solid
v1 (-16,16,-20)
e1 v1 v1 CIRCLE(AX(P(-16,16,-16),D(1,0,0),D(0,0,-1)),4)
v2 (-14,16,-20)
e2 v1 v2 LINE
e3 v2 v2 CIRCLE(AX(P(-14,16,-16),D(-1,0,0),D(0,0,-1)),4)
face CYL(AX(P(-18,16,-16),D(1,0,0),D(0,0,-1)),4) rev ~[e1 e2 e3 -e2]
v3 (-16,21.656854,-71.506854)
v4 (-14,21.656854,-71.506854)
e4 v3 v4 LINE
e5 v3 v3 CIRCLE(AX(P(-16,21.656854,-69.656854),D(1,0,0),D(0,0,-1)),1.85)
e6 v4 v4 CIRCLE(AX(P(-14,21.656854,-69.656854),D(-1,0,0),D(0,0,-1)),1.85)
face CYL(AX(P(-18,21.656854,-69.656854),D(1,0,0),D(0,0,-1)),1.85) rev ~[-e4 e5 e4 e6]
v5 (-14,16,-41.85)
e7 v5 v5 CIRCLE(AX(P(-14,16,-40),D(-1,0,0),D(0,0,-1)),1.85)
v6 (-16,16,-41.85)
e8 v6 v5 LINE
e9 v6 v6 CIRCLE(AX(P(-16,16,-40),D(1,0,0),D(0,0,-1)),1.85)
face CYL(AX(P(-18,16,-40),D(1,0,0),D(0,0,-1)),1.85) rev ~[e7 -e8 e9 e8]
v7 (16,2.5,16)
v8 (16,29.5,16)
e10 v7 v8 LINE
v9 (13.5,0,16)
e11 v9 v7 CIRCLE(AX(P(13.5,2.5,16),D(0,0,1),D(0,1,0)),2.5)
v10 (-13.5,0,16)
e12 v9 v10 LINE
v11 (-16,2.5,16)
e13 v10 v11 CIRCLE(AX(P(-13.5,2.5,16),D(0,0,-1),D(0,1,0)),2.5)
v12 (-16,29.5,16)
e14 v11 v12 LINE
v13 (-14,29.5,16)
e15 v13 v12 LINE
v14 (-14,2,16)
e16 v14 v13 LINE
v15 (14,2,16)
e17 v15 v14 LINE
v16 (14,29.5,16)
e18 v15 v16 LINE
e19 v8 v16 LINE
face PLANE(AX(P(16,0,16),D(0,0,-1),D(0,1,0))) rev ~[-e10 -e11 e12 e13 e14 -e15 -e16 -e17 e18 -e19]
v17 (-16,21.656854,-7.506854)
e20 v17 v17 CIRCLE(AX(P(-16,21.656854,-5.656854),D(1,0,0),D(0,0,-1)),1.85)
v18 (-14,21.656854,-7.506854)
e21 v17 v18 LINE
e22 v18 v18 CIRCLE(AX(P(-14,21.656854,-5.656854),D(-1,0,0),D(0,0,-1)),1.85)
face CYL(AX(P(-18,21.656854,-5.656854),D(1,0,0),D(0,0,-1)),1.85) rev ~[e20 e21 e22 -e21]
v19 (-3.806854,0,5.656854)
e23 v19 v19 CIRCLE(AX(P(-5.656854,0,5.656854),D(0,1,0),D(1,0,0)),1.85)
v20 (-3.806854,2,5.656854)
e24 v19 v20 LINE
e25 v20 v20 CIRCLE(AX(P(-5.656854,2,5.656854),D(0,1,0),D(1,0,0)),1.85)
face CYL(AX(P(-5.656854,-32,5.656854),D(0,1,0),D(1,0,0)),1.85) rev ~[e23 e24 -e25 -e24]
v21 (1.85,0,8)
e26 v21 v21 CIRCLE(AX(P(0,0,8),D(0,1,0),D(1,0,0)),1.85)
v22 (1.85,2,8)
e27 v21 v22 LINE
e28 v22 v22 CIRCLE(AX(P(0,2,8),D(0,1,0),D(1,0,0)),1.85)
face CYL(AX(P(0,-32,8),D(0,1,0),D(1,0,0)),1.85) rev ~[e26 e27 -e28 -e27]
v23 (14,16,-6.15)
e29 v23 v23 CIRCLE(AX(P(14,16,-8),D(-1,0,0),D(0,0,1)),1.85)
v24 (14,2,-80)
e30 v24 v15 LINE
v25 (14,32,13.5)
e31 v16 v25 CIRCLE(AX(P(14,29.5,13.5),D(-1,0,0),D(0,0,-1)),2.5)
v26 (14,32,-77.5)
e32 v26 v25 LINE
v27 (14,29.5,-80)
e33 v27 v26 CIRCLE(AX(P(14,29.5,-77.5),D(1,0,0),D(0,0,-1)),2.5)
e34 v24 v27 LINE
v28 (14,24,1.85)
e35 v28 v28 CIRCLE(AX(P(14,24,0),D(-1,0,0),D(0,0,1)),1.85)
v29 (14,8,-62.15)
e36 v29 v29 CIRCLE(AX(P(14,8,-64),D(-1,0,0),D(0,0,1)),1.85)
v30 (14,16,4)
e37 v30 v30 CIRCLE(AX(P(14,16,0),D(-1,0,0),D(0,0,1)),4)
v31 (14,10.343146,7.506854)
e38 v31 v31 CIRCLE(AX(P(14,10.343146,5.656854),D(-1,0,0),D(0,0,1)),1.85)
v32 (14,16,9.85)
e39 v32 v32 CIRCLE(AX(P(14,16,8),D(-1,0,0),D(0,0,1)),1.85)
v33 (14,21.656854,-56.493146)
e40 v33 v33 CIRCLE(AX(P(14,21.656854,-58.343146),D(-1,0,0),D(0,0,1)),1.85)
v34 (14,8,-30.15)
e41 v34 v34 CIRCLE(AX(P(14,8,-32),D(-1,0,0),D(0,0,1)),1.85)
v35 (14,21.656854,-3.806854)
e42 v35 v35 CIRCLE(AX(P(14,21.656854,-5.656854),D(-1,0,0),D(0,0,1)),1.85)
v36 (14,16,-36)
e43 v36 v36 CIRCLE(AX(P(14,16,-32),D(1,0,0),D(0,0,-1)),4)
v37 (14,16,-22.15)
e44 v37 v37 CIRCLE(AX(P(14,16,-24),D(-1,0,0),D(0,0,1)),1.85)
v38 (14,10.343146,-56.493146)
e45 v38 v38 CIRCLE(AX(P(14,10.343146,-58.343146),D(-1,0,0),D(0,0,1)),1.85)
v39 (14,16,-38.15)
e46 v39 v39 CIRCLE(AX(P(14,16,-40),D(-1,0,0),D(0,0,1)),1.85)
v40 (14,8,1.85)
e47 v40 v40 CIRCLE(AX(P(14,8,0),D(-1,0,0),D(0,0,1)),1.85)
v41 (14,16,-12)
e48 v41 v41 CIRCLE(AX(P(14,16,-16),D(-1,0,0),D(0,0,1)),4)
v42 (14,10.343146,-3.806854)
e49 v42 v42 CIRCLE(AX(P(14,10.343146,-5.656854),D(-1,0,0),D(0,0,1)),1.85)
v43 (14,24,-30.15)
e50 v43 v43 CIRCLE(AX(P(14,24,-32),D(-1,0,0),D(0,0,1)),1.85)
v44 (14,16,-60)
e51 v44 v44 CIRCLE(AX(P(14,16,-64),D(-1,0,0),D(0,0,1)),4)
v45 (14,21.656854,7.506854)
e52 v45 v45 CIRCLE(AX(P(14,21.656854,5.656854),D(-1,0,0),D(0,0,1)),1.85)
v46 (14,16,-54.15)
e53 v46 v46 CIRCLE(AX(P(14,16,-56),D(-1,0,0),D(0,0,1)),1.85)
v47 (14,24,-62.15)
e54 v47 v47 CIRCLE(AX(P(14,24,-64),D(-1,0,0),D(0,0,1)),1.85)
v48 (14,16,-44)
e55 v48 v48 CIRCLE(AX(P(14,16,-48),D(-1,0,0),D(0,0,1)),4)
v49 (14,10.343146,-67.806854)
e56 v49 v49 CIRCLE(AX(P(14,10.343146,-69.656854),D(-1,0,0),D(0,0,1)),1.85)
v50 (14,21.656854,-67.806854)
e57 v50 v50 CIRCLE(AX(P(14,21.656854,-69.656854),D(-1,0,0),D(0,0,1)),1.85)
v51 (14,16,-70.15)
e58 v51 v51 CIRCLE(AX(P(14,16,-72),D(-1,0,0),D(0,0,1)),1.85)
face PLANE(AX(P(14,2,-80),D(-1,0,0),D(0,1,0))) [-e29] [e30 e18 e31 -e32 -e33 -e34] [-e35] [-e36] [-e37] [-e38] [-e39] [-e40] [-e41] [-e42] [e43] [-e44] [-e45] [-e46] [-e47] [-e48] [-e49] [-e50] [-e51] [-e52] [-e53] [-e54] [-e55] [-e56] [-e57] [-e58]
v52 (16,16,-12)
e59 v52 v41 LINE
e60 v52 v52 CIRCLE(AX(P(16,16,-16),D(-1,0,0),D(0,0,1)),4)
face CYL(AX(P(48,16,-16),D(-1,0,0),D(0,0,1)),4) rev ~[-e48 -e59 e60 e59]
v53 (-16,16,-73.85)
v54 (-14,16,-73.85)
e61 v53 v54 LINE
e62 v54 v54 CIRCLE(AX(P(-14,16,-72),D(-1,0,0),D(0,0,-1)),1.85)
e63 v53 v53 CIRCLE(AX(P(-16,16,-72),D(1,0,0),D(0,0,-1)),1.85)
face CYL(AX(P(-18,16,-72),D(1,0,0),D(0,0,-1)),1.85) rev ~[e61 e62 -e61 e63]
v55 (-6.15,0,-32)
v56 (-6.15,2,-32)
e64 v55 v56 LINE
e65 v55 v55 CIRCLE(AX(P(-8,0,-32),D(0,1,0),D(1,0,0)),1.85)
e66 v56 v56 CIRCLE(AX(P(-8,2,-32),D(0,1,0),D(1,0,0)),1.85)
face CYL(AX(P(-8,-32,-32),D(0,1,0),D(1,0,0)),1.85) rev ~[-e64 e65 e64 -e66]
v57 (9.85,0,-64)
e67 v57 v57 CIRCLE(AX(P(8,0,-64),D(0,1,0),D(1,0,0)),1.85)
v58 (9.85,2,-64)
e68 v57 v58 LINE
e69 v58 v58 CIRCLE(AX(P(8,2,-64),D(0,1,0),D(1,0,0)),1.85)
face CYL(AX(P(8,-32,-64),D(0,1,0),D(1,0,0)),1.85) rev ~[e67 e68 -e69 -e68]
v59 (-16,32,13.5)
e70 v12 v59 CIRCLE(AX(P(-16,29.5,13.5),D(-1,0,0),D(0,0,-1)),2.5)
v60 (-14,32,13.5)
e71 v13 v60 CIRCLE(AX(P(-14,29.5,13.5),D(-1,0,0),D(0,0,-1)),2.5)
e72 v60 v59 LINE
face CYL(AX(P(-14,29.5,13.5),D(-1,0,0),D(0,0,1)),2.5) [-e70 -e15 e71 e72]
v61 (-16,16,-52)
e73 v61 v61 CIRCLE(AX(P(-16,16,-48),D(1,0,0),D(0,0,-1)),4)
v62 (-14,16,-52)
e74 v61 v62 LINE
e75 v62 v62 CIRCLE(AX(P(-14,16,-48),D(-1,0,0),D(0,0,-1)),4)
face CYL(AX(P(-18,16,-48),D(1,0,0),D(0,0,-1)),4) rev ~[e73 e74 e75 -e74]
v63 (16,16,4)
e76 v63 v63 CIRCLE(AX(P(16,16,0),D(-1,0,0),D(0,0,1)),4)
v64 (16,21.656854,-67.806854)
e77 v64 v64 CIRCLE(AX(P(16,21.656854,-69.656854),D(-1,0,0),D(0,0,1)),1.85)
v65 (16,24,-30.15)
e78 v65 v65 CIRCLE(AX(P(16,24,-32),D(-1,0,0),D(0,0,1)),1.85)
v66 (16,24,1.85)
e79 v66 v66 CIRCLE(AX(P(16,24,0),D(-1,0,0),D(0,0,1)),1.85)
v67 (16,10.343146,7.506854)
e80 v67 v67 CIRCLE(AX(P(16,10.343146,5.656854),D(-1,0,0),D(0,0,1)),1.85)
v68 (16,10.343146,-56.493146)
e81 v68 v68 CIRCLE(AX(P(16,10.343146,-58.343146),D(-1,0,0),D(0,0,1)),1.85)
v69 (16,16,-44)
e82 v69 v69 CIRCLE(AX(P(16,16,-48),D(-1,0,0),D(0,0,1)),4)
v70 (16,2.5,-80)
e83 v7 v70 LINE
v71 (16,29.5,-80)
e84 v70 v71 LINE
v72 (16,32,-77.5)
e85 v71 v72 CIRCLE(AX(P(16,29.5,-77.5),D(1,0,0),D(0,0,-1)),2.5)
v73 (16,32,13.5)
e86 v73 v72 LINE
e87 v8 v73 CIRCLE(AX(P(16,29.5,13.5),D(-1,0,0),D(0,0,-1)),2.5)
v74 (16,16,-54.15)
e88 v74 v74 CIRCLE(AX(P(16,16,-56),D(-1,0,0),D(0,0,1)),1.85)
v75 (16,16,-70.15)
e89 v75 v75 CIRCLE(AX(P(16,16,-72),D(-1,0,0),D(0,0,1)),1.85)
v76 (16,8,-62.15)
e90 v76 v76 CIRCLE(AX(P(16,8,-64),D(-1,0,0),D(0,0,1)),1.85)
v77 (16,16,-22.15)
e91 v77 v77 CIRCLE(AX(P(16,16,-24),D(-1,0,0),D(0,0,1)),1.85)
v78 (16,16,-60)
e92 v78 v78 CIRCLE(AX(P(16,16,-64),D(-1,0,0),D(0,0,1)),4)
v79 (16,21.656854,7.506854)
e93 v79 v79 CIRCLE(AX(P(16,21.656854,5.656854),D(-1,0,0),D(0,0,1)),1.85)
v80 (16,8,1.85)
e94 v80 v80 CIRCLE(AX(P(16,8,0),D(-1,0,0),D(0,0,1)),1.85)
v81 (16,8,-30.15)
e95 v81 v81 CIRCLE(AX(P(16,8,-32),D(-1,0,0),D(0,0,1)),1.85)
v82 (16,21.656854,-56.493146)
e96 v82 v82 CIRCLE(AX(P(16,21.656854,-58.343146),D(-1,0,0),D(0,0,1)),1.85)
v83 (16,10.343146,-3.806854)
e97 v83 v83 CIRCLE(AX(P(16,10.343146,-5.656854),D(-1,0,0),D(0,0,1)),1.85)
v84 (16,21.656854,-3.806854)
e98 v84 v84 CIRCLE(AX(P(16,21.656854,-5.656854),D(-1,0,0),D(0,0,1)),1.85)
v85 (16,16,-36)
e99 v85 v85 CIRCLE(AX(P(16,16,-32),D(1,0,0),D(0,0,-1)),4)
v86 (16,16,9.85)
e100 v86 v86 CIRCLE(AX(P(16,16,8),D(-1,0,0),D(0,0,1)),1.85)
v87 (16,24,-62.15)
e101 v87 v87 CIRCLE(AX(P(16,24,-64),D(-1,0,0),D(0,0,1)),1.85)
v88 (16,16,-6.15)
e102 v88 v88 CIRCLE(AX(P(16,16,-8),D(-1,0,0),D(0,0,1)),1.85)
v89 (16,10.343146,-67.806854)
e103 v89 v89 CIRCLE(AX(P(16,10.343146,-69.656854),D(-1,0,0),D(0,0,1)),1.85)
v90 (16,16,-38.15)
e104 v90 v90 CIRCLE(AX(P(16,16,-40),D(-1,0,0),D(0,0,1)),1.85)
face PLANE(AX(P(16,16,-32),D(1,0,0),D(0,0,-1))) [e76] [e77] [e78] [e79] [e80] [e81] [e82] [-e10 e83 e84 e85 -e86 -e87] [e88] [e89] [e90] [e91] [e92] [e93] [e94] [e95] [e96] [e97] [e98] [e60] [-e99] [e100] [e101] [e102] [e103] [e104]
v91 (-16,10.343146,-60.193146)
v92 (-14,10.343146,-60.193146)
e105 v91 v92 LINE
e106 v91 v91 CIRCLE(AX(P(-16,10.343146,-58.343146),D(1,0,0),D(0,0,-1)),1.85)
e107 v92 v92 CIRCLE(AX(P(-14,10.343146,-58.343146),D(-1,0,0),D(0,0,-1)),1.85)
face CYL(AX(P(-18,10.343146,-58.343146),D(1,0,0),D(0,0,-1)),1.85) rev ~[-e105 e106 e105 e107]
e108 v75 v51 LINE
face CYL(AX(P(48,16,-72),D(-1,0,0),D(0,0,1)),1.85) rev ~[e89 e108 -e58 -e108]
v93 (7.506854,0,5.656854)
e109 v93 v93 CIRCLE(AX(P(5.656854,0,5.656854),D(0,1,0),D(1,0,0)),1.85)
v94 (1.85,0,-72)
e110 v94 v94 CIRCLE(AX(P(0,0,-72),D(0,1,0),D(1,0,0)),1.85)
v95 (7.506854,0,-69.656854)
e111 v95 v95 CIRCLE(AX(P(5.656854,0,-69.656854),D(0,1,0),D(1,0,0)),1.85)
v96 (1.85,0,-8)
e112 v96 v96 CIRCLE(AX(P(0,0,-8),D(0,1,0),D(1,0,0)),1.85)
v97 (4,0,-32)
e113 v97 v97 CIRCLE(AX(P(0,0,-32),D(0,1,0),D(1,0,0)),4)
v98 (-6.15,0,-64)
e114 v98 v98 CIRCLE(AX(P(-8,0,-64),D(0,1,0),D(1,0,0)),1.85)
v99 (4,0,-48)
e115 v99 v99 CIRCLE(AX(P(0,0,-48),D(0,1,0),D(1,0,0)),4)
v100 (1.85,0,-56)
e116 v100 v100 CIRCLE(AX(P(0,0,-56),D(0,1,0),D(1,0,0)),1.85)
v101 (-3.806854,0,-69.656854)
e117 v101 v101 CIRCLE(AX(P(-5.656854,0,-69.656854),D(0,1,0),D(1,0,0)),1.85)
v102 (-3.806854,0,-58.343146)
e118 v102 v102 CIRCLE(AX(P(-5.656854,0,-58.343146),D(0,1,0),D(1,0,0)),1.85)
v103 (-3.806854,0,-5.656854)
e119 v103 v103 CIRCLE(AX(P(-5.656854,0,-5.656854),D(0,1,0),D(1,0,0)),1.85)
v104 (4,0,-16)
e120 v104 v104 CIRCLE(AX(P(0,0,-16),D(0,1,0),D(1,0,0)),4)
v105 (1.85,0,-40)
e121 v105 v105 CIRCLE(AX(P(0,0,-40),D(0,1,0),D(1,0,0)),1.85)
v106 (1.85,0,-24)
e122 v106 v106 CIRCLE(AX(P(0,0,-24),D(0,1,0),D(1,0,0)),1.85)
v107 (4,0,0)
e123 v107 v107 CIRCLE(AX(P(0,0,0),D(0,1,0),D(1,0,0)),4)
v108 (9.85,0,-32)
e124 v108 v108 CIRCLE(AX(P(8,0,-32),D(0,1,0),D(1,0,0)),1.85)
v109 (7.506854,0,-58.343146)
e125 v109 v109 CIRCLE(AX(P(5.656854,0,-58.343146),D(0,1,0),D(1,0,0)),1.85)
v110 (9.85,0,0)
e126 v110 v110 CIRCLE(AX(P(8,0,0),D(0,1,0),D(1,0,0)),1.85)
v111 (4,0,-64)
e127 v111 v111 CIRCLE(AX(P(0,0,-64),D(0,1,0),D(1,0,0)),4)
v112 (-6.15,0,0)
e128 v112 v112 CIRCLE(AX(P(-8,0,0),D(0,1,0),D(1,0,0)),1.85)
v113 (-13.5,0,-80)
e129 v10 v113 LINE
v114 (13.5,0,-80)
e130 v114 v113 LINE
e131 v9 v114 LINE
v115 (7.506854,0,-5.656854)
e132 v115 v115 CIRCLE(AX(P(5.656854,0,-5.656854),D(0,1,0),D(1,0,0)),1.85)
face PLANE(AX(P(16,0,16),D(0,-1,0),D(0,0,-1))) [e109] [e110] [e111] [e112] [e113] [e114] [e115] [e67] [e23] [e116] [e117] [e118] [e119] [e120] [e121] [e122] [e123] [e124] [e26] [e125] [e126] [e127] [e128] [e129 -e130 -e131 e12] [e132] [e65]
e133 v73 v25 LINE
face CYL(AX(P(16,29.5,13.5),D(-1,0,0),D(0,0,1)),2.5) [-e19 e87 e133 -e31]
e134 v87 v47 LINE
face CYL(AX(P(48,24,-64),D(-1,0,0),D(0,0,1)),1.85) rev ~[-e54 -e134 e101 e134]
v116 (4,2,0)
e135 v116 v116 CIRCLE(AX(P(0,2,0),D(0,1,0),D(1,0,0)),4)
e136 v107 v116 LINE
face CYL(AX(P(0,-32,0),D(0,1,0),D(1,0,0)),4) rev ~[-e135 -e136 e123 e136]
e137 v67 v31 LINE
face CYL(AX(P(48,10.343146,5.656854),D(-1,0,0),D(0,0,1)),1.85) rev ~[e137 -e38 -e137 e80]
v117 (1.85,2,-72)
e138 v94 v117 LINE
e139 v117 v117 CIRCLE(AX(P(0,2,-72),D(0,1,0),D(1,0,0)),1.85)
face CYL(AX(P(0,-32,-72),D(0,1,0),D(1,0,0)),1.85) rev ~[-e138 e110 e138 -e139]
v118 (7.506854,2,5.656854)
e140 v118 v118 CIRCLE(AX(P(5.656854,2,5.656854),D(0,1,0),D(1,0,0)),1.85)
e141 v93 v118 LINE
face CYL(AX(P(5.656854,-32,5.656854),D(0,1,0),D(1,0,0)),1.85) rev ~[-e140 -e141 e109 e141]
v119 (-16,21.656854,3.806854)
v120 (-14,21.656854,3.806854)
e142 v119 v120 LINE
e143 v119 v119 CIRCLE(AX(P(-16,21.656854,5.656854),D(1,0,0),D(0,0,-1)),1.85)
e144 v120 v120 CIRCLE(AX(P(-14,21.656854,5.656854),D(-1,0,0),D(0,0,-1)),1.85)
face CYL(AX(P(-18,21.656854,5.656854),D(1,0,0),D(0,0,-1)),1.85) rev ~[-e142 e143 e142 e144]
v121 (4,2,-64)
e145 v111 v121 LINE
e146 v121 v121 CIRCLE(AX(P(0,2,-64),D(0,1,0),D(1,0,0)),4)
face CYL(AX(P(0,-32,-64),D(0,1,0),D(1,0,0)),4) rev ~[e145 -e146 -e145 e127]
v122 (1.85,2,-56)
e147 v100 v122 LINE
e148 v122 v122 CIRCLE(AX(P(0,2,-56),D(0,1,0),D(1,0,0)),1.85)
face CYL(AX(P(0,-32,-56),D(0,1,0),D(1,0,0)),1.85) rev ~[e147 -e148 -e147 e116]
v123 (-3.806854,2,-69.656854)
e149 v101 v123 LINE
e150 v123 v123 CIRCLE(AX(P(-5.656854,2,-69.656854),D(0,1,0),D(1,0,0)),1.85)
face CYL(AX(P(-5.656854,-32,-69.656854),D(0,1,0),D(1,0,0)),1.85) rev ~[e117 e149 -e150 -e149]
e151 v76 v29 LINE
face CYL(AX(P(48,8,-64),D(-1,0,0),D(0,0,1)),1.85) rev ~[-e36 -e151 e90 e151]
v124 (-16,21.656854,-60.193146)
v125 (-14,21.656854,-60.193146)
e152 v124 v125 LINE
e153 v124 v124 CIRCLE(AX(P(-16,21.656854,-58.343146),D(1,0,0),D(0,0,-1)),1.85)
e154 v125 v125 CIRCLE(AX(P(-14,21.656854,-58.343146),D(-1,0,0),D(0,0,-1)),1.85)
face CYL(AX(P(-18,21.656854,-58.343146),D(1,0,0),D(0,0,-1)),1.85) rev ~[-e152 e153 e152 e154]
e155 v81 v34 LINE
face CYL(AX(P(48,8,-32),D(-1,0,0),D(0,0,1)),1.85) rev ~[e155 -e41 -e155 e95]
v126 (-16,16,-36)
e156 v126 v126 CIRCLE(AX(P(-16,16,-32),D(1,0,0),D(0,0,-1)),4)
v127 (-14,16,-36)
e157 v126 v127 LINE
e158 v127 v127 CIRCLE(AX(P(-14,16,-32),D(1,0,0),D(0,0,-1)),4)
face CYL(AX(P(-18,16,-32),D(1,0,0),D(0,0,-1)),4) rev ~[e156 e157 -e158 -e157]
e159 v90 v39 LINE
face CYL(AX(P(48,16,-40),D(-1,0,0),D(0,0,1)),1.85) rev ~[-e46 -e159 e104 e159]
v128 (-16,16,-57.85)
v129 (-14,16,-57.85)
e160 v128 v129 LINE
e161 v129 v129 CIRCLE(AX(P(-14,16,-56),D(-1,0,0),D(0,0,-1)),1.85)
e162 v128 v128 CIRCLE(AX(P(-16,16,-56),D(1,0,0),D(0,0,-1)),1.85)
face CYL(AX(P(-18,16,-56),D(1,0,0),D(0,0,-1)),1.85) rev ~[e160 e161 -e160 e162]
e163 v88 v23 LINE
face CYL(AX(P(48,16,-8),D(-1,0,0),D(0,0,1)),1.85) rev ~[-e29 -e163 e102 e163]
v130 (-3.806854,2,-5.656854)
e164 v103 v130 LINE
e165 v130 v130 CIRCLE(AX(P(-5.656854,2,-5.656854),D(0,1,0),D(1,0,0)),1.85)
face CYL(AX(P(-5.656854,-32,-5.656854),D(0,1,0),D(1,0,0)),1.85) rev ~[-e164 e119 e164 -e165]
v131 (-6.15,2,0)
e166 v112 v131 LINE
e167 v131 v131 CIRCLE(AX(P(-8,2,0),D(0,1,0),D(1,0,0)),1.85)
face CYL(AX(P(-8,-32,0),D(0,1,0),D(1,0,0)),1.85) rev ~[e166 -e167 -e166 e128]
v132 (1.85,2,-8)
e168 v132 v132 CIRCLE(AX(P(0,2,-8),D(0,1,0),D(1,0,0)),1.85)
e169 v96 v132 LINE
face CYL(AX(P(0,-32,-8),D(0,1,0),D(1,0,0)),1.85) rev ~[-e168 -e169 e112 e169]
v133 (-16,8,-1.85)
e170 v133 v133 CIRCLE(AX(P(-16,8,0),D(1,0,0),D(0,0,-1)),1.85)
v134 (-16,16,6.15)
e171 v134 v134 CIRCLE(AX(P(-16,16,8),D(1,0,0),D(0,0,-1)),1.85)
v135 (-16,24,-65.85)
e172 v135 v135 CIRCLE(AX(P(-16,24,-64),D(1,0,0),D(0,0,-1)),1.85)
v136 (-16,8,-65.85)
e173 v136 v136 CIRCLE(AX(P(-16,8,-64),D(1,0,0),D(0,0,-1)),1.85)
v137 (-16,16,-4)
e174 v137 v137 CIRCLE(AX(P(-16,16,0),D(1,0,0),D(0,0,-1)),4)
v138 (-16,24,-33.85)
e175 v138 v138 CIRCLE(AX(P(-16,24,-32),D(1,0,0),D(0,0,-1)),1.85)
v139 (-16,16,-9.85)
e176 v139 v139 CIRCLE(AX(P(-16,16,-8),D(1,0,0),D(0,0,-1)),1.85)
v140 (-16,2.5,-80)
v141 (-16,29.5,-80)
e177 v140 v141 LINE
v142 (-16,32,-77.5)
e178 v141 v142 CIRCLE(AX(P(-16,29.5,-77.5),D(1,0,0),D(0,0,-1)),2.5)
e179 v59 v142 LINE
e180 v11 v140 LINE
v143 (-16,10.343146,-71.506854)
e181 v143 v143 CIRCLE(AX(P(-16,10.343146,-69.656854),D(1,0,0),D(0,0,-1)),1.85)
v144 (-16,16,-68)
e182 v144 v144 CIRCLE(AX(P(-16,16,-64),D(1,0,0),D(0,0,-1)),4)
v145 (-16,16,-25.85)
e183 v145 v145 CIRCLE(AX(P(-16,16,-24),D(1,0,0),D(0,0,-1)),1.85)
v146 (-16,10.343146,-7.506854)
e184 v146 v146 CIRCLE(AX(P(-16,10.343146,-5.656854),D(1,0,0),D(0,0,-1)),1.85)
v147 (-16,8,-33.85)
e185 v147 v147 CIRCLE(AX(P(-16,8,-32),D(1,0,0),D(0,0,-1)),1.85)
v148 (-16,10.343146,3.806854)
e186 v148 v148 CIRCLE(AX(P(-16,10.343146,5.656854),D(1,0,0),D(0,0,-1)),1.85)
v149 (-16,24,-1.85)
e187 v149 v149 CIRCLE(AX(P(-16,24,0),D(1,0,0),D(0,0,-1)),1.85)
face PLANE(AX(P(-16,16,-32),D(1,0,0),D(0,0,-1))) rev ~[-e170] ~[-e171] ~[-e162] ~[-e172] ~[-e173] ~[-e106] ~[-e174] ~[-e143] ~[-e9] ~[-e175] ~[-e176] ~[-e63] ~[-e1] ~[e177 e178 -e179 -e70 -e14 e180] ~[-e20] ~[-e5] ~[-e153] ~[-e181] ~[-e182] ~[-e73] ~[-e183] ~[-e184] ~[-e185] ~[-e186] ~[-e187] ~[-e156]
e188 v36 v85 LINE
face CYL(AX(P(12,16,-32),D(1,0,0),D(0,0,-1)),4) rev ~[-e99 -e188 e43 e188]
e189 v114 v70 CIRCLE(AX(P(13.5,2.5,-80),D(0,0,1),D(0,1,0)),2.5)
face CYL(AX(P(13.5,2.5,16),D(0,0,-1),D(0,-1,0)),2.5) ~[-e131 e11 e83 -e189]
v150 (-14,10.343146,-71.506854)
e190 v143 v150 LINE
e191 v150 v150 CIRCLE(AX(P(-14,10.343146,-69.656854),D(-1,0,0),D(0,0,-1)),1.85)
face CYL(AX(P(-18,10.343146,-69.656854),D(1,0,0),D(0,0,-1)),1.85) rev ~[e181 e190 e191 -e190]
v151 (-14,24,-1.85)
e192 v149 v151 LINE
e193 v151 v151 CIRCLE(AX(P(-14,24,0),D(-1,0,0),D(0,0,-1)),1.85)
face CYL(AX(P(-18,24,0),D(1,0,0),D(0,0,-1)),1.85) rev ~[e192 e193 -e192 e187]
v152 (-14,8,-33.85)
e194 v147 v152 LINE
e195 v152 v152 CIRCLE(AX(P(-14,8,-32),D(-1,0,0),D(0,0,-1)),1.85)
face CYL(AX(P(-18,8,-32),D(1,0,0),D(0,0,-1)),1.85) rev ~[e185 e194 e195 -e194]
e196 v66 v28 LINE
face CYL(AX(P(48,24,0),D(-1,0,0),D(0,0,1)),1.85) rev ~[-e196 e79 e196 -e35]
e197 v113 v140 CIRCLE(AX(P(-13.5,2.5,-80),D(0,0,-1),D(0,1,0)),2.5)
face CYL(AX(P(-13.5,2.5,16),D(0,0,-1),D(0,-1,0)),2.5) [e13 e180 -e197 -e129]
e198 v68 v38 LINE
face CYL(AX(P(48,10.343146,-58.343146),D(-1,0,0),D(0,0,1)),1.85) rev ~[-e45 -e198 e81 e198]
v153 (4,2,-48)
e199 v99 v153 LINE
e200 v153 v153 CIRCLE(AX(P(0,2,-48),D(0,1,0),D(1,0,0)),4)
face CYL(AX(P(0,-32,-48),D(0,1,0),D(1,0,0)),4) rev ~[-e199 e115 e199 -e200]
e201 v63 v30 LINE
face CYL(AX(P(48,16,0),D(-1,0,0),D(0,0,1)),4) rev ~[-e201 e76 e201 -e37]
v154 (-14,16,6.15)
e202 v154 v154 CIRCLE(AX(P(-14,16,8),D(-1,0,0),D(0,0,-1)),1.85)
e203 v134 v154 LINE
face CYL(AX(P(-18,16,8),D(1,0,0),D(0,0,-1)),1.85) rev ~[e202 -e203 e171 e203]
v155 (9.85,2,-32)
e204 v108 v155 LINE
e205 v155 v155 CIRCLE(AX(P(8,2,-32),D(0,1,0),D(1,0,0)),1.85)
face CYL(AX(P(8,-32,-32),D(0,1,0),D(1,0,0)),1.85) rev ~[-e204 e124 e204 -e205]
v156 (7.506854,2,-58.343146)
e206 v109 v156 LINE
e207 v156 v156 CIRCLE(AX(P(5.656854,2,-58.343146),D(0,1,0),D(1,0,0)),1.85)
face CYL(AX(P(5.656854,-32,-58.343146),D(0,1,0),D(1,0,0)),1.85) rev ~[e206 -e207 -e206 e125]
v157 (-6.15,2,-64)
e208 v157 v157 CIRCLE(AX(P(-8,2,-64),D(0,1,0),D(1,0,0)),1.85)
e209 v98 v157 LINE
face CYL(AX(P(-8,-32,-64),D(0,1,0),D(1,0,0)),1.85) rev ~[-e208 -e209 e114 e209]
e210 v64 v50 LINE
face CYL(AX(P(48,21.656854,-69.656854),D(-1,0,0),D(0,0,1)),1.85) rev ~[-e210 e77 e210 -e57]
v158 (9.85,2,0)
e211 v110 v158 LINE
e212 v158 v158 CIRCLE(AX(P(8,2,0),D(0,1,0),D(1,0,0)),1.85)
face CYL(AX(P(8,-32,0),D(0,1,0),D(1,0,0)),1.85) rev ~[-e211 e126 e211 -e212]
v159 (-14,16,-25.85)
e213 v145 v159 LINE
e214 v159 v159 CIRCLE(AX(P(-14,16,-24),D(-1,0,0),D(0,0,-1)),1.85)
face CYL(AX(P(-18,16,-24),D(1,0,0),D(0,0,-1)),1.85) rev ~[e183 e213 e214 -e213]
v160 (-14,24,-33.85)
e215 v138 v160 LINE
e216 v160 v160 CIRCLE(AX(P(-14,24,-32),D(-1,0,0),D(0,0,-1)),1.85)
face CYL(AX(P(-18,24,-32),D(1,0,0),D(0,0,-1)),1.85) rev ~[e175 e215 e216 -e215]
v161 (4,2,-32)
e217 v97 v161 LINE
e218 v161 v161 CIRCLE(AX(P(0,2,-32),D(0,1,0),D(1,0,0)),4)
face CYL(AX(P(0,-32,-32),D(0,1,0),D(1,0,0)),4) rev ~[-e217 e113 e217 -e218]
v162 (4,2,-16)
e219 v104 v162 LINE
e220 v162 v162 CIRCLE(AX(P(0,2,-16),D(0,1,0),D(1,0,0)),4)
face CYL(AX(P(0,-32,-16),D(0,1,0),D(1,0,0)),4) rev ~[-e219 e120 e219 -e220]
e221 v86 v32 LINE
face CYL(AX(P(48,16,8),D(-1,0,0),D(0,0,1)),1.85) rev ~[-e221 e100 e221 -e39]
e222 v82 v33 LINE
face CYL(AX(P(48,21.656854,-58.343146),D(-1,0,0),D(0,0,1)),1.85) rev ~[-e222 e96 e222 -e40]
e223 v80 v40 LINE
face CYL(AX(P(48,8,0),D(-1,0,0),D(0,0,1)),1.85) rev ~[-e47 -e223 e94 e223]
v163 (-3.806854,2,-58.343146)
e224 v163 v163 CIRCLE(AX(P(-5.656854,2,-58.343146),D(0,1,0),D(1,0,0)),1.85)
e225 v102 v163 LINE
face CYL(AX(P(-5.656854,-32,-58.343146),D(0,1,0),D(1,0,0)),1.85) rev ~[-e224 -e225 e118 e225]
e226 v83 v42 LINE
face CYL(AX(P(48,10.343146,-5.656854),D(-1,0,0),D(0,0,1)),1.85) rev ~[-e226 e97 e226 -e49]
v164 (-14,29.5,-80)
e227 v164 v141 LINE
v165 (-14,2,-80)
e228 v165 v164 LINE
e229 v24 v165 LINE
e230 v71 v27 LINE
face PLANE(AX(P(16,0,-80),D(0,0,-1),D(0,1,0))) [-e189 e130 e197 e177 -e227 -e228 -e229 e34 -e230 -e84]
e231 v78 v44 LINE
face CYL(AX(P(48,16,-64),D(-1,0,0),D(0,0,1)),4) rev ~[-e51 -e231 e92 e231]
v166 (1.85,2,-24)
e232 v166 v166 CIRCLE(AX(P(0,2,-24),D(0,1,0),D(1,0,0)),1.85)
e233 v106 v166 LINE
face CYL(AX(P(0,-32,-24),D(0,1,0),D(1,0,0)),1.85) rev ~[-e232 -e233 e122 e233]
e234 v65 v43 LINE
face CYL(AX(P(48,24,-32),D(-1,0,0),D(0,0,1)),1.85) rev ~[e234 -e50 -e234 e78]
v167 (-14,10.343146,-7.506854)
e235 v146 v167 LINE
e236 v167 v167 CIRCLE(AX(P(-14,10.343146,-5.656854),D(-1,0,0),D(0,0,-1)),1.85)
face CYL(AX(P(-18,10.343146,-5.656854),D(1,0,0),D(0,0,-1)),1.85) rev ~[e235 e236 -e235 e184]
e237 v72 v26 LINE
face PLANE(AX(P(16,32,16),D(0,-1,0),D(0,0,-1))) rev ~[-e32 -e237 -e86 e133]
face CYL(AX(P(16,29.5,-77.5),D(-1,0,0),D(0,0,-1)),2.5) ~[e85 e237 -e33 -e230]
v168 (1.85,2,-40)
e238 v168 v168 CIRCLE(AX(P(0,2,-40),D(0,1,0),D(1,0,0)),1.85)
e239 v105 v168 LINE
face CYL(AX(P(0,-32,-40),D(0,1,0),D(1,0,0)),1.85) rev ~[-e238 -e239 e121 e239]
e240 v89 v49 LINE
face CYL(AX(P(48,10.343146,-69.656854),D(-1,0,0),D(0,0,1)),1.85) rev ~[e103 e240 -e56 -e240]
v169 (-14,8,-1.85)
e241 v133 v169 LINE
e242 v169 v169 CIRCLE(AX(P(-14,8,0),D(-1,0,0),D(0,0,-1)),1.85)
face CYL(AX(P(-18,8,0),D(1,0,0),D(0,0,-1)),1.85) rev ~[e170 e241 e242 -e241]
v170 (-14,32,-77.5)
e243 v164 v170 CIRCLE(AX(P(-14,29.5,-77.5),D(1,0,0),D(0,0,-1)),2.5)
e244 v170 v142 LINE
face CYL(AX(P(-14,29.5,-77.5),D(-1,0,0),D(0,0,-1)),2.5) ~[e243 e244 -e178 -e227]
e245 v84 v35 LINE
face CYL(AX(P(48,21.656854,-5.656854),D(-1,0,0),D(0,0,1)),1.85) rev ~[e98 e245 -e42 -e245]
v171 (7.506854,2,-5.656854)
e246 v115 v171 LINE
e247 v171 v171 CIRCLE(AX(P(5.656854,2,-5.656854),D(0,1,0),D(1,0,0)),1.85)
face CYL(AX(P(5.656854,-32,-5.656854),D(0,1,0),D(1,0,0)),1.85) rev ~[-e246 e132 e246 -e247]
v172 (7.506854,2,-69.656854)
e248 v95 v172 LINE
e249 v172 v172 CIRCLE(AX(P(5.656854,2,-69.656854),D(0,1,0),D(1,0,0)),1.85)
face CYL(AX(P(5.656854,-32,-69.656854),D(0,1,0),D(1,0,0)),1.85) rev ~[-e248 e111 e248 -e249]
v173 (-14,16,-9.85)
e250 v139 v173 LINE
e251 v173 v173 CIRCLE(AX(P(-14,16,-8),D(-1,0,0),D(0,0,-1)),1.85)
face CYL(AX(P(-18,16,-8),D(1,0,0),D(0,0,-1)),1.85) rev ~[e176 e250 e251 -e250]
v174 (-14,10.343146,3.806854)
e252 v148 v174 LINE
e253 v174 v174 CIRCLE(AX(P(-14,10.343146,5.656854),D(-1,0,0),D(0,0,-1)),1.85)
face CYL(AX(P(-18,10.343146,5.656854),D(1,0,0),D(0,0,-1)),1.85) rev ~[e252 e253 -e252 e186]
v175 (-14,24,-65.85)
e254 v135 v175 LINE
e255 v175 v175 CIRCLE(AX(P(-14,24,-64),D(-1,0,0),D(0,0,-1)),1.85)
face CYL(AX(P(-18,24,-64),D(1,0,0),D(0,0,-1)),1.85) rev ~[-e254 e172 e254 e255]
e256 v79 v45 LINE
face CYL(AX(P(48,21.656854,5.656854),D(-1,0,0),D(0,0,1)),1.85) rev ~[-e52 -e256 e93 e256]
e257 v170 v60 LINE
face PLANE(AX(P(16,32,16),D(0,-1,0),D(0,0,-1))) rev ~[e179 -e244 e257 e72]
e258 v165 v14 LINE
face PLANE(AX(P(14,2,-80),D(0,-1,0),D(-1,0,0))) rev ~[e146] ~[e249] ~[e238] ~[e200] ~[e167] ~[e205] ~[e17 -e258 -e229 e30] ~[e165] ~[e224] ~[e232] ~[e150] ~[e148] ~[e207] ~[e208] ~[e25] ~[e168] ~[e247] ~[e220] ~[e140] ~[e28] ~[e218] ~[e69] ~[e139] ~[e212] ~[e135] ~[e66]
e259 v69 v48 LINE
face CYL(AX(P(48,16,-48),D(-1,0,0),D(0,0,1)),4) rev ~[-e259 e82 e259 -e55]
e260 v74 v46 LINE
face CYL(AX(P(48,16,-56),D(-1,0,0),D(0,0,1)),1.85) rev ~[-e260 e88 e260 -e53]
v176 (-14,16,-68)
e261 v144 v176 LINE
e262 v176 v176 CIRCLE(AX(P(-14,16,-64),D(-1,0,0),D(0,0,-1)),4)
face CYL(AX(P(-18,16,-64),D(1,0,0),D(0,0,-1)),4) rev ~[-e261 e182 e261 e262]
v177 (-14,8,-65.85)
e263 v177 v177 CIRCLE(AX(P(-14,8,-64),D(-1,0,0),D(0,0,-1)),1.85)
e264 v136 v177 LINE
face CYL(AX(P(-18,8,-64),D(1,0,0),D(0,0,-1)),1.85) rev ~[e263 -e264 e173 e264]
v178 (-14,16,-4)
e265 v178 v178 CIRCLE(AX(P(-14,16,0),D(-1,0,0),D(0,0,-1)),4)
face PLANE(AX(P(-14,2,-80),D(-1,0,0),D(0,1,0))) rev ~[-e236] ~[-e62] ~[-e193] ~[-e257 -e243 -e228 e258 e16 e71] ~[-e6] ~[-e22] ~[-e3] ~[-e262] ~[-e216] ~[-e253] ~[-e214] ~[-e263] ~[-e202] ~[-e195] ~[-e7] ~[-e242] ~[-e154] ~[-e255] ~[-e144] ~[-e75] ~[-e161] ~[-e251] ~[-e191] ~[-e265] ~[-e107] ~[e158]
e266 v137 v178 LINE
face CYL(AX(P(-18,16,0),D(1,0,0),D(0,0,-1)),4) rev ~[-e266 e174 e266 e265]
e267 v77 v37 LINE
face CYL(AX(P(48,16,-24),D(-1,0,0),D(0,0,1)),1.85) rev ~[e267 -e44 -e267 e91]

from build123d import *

# Parameters (mm, degrees)
SKETCH1_W                      = 96
SKETCH1_H                      = 32
BOSS_EXTRUDE1_DEPTH            = 32
SKETCH2_W                      = 28
SKETCH2_H                      = 30
CUT_EXTRUDE1_DEPTH             = 97
F_8_0_8_DIAMETER_HOLE1_D       = 8
F_8_0_8_DIAMETER_HOLE1_DEPTH   = 2
F_3_7_3_7_DIAMETER_HOLE1_D     = 3.7
F_3_7_3_7_DIAMETER_HOLE1_DEPTH = 2
F_3_7_3_7_DIAMETER_HOLE2_D     = 3.7
F_3_7_3_7_DIAMETER_HOLE2_DEPTH = 32
F_8_0_8_DIAMETER_HOLE2_D       = 8
F_8_0_8_DIAMETER_HOLE2_DEPTH   = 32
F_8_0_8_DIAMETER_HOLE3_D       = 8
F_8_0_8_DIAMETER_HOLE3_DEPTH   = 2
F_8_0_8_DIAMETER_HOLE4_D       = 8
F_8_0_8_DIAMETER_HOLE4_DEPTH   = 32
F_3_7_3_7_DIAMETER_HOLE3_D     = 3.7
F_3_7_3_7_DIAMETER_HOLE3_DEPTH = 32
FILLET1_R                      = 2.5


with BuildPart() as part:
    # Sketch1 → Boss-Extrude1 (new body)
    with BuildSketch(Plane(origin=(16, 0, 0), x_dir=(0, 0, -1), z_dir=(1, 0, 0))):
        with Locations((32, 16)):
            Rectangle(SKETCH1_W, SKETCH1_H)
    extrude(amount=-BOSS_EXTRUDE1_DEPTH)

    # Sketch2 → Cut-Extrude1 (cut, through all)
    with BuildSketch(Plane(origin=(0, 0, -80), x_dir=(-1, 0, 0), z_dir=(0, 0, -1))):
        with Locations((0, 17)):
            Rectangle(SKETCH2_W, SKETCH2_H)
    extrude(amount=-CUT_EXTRUDE1_DEPTH, mode=Mode.SUBTRACT)

    # Ø8.0 (8) Diameter Hole1
    with Locations(Plane.ZY.offset(16)):
        with Locations((-64, 16), (-32, 16), (-16, 16), (-48, 16), (0, 16)):
            Hole(F_8_0_8_DIAMETER_HOLE1_D / 2, depth=F_8_0_8_DIAMETER_HOLE1_DEPTH)

    # Ø3.7 (3.7) Diameter Hole1
    with Locations(Plane.ZY.offset(16)):
        with Locations((0, 24), (0, 8), (-8, 16), (8, 16), (-5.656854249, 21.656854249), (5.656854249, 21.656854249), (5.656854249, 10.343145751), (-5.656854249, 10.343145751), (-64, 24), (-64, 8), (-72, 16), (-56, 16), (-69.656854249, 21.656854249), (-58.343145751, 21.656854249), (-58.343145751, 10.343145751), (-69.656854249, 10.343145751), (-32, 24), (-40, 16), (-32, 8), (-24, 16)):
            Hole(F_3_7_3_7_DIAMETER_HOLE1_D / 2, depth=F_3_7_3_7_DIAMETER_HOLE1_DEPTH)

    # Ø3.7 (3.7) Diameter Hole2
    with Locations(Plane(origin=(0, 0, 0), x_dir=(-1, 0, 0), z_dir=(0, -1, 0))):
        with Locations((8, 0), (5.656854249, 5.656854249), (0, 8), (-5.656854249, 5.656854249), (-8, 0), (-5.656854249, -5.656854249), (0, -8), (5.656854249, -5.656854249), (8, 64), (5.656854249, 69.656854249), (0, 72), (-5.656854249, 69.656854249), (-8, 64), (-5.656854249, 58.343145751), (0, 56), (5.656854249, 58.343145751), (8, 32), (0, 40), (-8, 32), (0, 24)):
            Hole(F_3_7_3_7_DIAMETER_HOLE2_D / 2, depth=F_3_7_3_7_DIAMETER_HOLE2_DEPTH)

    # Ø8.0 (8) Diameter Hole2
    with Locations(Plane(origin=(0, 0, 0), x_dir=(-1, 0, 0), z_dir=(0, -1, 0))):
        with Locations((0, 0), (0, 64), (0, 32), (0, 16), (0, 48)):
            Hole(F_8_0_8_DIAMETER_HOLE2_D / 2, depth=F_8_0_8_DIAMETER_HOLE2_DEPTH)

    # Ø8.0 (8) Diameter Hole3
    with Locations(Plane.ZY.offset(-14)):
        with Locations((-32, 16)):
            Hole(F_8_0_8_DIAMETER_HOLE3_D / 2, depth=F_8_0_8_DIAMETER_HOLE3_DEPTH)

    # Ø8.0 (8) Diameter Hole4
    with Locations(Plane(origin=(16, 0, 0), x_dir=(0, 0, -1), z_dir=(1, 0, 0))):
        with Locations((64, 16), (16, 16), (48, 16), (0, 16)):
            Hole(F_8_0_8_DIAMETER_HOLE4_D / 2, depth=F_8_0_8_DIAMETER_HOLE4_DEPTH)

    # Ø3.7 (3.7) Diameter Hole3
    with Locations(Plane(origin=(16, 0, 0), x_dir=(0, 0, -1), z_dir=(1, 0, 0))):
        with Locations((0, 24), (0, 8), (8, 16), (-8, 16), (5.656854249, 21.656854249), (-5.656854249, 21.656854249), (-5.656854249, 10.343145751), (5.656854249, 10.343145751), (64, 24), (64, 8), (72, 16), (56, 16), (69.656854249, 21.656854249), (58.343145751, 21.656854249), (58.343145751, 10.343145751), (69.656854249, 10.343145751), (32, 24), (40, 16), (32, 8), (24, 16)):
            Hole(F_3_7_3_7_DIAMETER_HOLE3_D / 2, depth=F_3_7_3_7_DIAMETER_HOLE3_DEPTH)

    # Fillet1
    fillet1_edges = [part.edges().sort_by_distance(p)[0] for p in [
        (-16, 0, -32),
        (15, 32, 16),
        (15, 32, -80),
        (16, 0, -32),
        (-15, 32, -80),
        (-15, 32, 16),
    ]]
    fillet(fillet1_edges, radius=FILLET1_R)


solid = part.part
